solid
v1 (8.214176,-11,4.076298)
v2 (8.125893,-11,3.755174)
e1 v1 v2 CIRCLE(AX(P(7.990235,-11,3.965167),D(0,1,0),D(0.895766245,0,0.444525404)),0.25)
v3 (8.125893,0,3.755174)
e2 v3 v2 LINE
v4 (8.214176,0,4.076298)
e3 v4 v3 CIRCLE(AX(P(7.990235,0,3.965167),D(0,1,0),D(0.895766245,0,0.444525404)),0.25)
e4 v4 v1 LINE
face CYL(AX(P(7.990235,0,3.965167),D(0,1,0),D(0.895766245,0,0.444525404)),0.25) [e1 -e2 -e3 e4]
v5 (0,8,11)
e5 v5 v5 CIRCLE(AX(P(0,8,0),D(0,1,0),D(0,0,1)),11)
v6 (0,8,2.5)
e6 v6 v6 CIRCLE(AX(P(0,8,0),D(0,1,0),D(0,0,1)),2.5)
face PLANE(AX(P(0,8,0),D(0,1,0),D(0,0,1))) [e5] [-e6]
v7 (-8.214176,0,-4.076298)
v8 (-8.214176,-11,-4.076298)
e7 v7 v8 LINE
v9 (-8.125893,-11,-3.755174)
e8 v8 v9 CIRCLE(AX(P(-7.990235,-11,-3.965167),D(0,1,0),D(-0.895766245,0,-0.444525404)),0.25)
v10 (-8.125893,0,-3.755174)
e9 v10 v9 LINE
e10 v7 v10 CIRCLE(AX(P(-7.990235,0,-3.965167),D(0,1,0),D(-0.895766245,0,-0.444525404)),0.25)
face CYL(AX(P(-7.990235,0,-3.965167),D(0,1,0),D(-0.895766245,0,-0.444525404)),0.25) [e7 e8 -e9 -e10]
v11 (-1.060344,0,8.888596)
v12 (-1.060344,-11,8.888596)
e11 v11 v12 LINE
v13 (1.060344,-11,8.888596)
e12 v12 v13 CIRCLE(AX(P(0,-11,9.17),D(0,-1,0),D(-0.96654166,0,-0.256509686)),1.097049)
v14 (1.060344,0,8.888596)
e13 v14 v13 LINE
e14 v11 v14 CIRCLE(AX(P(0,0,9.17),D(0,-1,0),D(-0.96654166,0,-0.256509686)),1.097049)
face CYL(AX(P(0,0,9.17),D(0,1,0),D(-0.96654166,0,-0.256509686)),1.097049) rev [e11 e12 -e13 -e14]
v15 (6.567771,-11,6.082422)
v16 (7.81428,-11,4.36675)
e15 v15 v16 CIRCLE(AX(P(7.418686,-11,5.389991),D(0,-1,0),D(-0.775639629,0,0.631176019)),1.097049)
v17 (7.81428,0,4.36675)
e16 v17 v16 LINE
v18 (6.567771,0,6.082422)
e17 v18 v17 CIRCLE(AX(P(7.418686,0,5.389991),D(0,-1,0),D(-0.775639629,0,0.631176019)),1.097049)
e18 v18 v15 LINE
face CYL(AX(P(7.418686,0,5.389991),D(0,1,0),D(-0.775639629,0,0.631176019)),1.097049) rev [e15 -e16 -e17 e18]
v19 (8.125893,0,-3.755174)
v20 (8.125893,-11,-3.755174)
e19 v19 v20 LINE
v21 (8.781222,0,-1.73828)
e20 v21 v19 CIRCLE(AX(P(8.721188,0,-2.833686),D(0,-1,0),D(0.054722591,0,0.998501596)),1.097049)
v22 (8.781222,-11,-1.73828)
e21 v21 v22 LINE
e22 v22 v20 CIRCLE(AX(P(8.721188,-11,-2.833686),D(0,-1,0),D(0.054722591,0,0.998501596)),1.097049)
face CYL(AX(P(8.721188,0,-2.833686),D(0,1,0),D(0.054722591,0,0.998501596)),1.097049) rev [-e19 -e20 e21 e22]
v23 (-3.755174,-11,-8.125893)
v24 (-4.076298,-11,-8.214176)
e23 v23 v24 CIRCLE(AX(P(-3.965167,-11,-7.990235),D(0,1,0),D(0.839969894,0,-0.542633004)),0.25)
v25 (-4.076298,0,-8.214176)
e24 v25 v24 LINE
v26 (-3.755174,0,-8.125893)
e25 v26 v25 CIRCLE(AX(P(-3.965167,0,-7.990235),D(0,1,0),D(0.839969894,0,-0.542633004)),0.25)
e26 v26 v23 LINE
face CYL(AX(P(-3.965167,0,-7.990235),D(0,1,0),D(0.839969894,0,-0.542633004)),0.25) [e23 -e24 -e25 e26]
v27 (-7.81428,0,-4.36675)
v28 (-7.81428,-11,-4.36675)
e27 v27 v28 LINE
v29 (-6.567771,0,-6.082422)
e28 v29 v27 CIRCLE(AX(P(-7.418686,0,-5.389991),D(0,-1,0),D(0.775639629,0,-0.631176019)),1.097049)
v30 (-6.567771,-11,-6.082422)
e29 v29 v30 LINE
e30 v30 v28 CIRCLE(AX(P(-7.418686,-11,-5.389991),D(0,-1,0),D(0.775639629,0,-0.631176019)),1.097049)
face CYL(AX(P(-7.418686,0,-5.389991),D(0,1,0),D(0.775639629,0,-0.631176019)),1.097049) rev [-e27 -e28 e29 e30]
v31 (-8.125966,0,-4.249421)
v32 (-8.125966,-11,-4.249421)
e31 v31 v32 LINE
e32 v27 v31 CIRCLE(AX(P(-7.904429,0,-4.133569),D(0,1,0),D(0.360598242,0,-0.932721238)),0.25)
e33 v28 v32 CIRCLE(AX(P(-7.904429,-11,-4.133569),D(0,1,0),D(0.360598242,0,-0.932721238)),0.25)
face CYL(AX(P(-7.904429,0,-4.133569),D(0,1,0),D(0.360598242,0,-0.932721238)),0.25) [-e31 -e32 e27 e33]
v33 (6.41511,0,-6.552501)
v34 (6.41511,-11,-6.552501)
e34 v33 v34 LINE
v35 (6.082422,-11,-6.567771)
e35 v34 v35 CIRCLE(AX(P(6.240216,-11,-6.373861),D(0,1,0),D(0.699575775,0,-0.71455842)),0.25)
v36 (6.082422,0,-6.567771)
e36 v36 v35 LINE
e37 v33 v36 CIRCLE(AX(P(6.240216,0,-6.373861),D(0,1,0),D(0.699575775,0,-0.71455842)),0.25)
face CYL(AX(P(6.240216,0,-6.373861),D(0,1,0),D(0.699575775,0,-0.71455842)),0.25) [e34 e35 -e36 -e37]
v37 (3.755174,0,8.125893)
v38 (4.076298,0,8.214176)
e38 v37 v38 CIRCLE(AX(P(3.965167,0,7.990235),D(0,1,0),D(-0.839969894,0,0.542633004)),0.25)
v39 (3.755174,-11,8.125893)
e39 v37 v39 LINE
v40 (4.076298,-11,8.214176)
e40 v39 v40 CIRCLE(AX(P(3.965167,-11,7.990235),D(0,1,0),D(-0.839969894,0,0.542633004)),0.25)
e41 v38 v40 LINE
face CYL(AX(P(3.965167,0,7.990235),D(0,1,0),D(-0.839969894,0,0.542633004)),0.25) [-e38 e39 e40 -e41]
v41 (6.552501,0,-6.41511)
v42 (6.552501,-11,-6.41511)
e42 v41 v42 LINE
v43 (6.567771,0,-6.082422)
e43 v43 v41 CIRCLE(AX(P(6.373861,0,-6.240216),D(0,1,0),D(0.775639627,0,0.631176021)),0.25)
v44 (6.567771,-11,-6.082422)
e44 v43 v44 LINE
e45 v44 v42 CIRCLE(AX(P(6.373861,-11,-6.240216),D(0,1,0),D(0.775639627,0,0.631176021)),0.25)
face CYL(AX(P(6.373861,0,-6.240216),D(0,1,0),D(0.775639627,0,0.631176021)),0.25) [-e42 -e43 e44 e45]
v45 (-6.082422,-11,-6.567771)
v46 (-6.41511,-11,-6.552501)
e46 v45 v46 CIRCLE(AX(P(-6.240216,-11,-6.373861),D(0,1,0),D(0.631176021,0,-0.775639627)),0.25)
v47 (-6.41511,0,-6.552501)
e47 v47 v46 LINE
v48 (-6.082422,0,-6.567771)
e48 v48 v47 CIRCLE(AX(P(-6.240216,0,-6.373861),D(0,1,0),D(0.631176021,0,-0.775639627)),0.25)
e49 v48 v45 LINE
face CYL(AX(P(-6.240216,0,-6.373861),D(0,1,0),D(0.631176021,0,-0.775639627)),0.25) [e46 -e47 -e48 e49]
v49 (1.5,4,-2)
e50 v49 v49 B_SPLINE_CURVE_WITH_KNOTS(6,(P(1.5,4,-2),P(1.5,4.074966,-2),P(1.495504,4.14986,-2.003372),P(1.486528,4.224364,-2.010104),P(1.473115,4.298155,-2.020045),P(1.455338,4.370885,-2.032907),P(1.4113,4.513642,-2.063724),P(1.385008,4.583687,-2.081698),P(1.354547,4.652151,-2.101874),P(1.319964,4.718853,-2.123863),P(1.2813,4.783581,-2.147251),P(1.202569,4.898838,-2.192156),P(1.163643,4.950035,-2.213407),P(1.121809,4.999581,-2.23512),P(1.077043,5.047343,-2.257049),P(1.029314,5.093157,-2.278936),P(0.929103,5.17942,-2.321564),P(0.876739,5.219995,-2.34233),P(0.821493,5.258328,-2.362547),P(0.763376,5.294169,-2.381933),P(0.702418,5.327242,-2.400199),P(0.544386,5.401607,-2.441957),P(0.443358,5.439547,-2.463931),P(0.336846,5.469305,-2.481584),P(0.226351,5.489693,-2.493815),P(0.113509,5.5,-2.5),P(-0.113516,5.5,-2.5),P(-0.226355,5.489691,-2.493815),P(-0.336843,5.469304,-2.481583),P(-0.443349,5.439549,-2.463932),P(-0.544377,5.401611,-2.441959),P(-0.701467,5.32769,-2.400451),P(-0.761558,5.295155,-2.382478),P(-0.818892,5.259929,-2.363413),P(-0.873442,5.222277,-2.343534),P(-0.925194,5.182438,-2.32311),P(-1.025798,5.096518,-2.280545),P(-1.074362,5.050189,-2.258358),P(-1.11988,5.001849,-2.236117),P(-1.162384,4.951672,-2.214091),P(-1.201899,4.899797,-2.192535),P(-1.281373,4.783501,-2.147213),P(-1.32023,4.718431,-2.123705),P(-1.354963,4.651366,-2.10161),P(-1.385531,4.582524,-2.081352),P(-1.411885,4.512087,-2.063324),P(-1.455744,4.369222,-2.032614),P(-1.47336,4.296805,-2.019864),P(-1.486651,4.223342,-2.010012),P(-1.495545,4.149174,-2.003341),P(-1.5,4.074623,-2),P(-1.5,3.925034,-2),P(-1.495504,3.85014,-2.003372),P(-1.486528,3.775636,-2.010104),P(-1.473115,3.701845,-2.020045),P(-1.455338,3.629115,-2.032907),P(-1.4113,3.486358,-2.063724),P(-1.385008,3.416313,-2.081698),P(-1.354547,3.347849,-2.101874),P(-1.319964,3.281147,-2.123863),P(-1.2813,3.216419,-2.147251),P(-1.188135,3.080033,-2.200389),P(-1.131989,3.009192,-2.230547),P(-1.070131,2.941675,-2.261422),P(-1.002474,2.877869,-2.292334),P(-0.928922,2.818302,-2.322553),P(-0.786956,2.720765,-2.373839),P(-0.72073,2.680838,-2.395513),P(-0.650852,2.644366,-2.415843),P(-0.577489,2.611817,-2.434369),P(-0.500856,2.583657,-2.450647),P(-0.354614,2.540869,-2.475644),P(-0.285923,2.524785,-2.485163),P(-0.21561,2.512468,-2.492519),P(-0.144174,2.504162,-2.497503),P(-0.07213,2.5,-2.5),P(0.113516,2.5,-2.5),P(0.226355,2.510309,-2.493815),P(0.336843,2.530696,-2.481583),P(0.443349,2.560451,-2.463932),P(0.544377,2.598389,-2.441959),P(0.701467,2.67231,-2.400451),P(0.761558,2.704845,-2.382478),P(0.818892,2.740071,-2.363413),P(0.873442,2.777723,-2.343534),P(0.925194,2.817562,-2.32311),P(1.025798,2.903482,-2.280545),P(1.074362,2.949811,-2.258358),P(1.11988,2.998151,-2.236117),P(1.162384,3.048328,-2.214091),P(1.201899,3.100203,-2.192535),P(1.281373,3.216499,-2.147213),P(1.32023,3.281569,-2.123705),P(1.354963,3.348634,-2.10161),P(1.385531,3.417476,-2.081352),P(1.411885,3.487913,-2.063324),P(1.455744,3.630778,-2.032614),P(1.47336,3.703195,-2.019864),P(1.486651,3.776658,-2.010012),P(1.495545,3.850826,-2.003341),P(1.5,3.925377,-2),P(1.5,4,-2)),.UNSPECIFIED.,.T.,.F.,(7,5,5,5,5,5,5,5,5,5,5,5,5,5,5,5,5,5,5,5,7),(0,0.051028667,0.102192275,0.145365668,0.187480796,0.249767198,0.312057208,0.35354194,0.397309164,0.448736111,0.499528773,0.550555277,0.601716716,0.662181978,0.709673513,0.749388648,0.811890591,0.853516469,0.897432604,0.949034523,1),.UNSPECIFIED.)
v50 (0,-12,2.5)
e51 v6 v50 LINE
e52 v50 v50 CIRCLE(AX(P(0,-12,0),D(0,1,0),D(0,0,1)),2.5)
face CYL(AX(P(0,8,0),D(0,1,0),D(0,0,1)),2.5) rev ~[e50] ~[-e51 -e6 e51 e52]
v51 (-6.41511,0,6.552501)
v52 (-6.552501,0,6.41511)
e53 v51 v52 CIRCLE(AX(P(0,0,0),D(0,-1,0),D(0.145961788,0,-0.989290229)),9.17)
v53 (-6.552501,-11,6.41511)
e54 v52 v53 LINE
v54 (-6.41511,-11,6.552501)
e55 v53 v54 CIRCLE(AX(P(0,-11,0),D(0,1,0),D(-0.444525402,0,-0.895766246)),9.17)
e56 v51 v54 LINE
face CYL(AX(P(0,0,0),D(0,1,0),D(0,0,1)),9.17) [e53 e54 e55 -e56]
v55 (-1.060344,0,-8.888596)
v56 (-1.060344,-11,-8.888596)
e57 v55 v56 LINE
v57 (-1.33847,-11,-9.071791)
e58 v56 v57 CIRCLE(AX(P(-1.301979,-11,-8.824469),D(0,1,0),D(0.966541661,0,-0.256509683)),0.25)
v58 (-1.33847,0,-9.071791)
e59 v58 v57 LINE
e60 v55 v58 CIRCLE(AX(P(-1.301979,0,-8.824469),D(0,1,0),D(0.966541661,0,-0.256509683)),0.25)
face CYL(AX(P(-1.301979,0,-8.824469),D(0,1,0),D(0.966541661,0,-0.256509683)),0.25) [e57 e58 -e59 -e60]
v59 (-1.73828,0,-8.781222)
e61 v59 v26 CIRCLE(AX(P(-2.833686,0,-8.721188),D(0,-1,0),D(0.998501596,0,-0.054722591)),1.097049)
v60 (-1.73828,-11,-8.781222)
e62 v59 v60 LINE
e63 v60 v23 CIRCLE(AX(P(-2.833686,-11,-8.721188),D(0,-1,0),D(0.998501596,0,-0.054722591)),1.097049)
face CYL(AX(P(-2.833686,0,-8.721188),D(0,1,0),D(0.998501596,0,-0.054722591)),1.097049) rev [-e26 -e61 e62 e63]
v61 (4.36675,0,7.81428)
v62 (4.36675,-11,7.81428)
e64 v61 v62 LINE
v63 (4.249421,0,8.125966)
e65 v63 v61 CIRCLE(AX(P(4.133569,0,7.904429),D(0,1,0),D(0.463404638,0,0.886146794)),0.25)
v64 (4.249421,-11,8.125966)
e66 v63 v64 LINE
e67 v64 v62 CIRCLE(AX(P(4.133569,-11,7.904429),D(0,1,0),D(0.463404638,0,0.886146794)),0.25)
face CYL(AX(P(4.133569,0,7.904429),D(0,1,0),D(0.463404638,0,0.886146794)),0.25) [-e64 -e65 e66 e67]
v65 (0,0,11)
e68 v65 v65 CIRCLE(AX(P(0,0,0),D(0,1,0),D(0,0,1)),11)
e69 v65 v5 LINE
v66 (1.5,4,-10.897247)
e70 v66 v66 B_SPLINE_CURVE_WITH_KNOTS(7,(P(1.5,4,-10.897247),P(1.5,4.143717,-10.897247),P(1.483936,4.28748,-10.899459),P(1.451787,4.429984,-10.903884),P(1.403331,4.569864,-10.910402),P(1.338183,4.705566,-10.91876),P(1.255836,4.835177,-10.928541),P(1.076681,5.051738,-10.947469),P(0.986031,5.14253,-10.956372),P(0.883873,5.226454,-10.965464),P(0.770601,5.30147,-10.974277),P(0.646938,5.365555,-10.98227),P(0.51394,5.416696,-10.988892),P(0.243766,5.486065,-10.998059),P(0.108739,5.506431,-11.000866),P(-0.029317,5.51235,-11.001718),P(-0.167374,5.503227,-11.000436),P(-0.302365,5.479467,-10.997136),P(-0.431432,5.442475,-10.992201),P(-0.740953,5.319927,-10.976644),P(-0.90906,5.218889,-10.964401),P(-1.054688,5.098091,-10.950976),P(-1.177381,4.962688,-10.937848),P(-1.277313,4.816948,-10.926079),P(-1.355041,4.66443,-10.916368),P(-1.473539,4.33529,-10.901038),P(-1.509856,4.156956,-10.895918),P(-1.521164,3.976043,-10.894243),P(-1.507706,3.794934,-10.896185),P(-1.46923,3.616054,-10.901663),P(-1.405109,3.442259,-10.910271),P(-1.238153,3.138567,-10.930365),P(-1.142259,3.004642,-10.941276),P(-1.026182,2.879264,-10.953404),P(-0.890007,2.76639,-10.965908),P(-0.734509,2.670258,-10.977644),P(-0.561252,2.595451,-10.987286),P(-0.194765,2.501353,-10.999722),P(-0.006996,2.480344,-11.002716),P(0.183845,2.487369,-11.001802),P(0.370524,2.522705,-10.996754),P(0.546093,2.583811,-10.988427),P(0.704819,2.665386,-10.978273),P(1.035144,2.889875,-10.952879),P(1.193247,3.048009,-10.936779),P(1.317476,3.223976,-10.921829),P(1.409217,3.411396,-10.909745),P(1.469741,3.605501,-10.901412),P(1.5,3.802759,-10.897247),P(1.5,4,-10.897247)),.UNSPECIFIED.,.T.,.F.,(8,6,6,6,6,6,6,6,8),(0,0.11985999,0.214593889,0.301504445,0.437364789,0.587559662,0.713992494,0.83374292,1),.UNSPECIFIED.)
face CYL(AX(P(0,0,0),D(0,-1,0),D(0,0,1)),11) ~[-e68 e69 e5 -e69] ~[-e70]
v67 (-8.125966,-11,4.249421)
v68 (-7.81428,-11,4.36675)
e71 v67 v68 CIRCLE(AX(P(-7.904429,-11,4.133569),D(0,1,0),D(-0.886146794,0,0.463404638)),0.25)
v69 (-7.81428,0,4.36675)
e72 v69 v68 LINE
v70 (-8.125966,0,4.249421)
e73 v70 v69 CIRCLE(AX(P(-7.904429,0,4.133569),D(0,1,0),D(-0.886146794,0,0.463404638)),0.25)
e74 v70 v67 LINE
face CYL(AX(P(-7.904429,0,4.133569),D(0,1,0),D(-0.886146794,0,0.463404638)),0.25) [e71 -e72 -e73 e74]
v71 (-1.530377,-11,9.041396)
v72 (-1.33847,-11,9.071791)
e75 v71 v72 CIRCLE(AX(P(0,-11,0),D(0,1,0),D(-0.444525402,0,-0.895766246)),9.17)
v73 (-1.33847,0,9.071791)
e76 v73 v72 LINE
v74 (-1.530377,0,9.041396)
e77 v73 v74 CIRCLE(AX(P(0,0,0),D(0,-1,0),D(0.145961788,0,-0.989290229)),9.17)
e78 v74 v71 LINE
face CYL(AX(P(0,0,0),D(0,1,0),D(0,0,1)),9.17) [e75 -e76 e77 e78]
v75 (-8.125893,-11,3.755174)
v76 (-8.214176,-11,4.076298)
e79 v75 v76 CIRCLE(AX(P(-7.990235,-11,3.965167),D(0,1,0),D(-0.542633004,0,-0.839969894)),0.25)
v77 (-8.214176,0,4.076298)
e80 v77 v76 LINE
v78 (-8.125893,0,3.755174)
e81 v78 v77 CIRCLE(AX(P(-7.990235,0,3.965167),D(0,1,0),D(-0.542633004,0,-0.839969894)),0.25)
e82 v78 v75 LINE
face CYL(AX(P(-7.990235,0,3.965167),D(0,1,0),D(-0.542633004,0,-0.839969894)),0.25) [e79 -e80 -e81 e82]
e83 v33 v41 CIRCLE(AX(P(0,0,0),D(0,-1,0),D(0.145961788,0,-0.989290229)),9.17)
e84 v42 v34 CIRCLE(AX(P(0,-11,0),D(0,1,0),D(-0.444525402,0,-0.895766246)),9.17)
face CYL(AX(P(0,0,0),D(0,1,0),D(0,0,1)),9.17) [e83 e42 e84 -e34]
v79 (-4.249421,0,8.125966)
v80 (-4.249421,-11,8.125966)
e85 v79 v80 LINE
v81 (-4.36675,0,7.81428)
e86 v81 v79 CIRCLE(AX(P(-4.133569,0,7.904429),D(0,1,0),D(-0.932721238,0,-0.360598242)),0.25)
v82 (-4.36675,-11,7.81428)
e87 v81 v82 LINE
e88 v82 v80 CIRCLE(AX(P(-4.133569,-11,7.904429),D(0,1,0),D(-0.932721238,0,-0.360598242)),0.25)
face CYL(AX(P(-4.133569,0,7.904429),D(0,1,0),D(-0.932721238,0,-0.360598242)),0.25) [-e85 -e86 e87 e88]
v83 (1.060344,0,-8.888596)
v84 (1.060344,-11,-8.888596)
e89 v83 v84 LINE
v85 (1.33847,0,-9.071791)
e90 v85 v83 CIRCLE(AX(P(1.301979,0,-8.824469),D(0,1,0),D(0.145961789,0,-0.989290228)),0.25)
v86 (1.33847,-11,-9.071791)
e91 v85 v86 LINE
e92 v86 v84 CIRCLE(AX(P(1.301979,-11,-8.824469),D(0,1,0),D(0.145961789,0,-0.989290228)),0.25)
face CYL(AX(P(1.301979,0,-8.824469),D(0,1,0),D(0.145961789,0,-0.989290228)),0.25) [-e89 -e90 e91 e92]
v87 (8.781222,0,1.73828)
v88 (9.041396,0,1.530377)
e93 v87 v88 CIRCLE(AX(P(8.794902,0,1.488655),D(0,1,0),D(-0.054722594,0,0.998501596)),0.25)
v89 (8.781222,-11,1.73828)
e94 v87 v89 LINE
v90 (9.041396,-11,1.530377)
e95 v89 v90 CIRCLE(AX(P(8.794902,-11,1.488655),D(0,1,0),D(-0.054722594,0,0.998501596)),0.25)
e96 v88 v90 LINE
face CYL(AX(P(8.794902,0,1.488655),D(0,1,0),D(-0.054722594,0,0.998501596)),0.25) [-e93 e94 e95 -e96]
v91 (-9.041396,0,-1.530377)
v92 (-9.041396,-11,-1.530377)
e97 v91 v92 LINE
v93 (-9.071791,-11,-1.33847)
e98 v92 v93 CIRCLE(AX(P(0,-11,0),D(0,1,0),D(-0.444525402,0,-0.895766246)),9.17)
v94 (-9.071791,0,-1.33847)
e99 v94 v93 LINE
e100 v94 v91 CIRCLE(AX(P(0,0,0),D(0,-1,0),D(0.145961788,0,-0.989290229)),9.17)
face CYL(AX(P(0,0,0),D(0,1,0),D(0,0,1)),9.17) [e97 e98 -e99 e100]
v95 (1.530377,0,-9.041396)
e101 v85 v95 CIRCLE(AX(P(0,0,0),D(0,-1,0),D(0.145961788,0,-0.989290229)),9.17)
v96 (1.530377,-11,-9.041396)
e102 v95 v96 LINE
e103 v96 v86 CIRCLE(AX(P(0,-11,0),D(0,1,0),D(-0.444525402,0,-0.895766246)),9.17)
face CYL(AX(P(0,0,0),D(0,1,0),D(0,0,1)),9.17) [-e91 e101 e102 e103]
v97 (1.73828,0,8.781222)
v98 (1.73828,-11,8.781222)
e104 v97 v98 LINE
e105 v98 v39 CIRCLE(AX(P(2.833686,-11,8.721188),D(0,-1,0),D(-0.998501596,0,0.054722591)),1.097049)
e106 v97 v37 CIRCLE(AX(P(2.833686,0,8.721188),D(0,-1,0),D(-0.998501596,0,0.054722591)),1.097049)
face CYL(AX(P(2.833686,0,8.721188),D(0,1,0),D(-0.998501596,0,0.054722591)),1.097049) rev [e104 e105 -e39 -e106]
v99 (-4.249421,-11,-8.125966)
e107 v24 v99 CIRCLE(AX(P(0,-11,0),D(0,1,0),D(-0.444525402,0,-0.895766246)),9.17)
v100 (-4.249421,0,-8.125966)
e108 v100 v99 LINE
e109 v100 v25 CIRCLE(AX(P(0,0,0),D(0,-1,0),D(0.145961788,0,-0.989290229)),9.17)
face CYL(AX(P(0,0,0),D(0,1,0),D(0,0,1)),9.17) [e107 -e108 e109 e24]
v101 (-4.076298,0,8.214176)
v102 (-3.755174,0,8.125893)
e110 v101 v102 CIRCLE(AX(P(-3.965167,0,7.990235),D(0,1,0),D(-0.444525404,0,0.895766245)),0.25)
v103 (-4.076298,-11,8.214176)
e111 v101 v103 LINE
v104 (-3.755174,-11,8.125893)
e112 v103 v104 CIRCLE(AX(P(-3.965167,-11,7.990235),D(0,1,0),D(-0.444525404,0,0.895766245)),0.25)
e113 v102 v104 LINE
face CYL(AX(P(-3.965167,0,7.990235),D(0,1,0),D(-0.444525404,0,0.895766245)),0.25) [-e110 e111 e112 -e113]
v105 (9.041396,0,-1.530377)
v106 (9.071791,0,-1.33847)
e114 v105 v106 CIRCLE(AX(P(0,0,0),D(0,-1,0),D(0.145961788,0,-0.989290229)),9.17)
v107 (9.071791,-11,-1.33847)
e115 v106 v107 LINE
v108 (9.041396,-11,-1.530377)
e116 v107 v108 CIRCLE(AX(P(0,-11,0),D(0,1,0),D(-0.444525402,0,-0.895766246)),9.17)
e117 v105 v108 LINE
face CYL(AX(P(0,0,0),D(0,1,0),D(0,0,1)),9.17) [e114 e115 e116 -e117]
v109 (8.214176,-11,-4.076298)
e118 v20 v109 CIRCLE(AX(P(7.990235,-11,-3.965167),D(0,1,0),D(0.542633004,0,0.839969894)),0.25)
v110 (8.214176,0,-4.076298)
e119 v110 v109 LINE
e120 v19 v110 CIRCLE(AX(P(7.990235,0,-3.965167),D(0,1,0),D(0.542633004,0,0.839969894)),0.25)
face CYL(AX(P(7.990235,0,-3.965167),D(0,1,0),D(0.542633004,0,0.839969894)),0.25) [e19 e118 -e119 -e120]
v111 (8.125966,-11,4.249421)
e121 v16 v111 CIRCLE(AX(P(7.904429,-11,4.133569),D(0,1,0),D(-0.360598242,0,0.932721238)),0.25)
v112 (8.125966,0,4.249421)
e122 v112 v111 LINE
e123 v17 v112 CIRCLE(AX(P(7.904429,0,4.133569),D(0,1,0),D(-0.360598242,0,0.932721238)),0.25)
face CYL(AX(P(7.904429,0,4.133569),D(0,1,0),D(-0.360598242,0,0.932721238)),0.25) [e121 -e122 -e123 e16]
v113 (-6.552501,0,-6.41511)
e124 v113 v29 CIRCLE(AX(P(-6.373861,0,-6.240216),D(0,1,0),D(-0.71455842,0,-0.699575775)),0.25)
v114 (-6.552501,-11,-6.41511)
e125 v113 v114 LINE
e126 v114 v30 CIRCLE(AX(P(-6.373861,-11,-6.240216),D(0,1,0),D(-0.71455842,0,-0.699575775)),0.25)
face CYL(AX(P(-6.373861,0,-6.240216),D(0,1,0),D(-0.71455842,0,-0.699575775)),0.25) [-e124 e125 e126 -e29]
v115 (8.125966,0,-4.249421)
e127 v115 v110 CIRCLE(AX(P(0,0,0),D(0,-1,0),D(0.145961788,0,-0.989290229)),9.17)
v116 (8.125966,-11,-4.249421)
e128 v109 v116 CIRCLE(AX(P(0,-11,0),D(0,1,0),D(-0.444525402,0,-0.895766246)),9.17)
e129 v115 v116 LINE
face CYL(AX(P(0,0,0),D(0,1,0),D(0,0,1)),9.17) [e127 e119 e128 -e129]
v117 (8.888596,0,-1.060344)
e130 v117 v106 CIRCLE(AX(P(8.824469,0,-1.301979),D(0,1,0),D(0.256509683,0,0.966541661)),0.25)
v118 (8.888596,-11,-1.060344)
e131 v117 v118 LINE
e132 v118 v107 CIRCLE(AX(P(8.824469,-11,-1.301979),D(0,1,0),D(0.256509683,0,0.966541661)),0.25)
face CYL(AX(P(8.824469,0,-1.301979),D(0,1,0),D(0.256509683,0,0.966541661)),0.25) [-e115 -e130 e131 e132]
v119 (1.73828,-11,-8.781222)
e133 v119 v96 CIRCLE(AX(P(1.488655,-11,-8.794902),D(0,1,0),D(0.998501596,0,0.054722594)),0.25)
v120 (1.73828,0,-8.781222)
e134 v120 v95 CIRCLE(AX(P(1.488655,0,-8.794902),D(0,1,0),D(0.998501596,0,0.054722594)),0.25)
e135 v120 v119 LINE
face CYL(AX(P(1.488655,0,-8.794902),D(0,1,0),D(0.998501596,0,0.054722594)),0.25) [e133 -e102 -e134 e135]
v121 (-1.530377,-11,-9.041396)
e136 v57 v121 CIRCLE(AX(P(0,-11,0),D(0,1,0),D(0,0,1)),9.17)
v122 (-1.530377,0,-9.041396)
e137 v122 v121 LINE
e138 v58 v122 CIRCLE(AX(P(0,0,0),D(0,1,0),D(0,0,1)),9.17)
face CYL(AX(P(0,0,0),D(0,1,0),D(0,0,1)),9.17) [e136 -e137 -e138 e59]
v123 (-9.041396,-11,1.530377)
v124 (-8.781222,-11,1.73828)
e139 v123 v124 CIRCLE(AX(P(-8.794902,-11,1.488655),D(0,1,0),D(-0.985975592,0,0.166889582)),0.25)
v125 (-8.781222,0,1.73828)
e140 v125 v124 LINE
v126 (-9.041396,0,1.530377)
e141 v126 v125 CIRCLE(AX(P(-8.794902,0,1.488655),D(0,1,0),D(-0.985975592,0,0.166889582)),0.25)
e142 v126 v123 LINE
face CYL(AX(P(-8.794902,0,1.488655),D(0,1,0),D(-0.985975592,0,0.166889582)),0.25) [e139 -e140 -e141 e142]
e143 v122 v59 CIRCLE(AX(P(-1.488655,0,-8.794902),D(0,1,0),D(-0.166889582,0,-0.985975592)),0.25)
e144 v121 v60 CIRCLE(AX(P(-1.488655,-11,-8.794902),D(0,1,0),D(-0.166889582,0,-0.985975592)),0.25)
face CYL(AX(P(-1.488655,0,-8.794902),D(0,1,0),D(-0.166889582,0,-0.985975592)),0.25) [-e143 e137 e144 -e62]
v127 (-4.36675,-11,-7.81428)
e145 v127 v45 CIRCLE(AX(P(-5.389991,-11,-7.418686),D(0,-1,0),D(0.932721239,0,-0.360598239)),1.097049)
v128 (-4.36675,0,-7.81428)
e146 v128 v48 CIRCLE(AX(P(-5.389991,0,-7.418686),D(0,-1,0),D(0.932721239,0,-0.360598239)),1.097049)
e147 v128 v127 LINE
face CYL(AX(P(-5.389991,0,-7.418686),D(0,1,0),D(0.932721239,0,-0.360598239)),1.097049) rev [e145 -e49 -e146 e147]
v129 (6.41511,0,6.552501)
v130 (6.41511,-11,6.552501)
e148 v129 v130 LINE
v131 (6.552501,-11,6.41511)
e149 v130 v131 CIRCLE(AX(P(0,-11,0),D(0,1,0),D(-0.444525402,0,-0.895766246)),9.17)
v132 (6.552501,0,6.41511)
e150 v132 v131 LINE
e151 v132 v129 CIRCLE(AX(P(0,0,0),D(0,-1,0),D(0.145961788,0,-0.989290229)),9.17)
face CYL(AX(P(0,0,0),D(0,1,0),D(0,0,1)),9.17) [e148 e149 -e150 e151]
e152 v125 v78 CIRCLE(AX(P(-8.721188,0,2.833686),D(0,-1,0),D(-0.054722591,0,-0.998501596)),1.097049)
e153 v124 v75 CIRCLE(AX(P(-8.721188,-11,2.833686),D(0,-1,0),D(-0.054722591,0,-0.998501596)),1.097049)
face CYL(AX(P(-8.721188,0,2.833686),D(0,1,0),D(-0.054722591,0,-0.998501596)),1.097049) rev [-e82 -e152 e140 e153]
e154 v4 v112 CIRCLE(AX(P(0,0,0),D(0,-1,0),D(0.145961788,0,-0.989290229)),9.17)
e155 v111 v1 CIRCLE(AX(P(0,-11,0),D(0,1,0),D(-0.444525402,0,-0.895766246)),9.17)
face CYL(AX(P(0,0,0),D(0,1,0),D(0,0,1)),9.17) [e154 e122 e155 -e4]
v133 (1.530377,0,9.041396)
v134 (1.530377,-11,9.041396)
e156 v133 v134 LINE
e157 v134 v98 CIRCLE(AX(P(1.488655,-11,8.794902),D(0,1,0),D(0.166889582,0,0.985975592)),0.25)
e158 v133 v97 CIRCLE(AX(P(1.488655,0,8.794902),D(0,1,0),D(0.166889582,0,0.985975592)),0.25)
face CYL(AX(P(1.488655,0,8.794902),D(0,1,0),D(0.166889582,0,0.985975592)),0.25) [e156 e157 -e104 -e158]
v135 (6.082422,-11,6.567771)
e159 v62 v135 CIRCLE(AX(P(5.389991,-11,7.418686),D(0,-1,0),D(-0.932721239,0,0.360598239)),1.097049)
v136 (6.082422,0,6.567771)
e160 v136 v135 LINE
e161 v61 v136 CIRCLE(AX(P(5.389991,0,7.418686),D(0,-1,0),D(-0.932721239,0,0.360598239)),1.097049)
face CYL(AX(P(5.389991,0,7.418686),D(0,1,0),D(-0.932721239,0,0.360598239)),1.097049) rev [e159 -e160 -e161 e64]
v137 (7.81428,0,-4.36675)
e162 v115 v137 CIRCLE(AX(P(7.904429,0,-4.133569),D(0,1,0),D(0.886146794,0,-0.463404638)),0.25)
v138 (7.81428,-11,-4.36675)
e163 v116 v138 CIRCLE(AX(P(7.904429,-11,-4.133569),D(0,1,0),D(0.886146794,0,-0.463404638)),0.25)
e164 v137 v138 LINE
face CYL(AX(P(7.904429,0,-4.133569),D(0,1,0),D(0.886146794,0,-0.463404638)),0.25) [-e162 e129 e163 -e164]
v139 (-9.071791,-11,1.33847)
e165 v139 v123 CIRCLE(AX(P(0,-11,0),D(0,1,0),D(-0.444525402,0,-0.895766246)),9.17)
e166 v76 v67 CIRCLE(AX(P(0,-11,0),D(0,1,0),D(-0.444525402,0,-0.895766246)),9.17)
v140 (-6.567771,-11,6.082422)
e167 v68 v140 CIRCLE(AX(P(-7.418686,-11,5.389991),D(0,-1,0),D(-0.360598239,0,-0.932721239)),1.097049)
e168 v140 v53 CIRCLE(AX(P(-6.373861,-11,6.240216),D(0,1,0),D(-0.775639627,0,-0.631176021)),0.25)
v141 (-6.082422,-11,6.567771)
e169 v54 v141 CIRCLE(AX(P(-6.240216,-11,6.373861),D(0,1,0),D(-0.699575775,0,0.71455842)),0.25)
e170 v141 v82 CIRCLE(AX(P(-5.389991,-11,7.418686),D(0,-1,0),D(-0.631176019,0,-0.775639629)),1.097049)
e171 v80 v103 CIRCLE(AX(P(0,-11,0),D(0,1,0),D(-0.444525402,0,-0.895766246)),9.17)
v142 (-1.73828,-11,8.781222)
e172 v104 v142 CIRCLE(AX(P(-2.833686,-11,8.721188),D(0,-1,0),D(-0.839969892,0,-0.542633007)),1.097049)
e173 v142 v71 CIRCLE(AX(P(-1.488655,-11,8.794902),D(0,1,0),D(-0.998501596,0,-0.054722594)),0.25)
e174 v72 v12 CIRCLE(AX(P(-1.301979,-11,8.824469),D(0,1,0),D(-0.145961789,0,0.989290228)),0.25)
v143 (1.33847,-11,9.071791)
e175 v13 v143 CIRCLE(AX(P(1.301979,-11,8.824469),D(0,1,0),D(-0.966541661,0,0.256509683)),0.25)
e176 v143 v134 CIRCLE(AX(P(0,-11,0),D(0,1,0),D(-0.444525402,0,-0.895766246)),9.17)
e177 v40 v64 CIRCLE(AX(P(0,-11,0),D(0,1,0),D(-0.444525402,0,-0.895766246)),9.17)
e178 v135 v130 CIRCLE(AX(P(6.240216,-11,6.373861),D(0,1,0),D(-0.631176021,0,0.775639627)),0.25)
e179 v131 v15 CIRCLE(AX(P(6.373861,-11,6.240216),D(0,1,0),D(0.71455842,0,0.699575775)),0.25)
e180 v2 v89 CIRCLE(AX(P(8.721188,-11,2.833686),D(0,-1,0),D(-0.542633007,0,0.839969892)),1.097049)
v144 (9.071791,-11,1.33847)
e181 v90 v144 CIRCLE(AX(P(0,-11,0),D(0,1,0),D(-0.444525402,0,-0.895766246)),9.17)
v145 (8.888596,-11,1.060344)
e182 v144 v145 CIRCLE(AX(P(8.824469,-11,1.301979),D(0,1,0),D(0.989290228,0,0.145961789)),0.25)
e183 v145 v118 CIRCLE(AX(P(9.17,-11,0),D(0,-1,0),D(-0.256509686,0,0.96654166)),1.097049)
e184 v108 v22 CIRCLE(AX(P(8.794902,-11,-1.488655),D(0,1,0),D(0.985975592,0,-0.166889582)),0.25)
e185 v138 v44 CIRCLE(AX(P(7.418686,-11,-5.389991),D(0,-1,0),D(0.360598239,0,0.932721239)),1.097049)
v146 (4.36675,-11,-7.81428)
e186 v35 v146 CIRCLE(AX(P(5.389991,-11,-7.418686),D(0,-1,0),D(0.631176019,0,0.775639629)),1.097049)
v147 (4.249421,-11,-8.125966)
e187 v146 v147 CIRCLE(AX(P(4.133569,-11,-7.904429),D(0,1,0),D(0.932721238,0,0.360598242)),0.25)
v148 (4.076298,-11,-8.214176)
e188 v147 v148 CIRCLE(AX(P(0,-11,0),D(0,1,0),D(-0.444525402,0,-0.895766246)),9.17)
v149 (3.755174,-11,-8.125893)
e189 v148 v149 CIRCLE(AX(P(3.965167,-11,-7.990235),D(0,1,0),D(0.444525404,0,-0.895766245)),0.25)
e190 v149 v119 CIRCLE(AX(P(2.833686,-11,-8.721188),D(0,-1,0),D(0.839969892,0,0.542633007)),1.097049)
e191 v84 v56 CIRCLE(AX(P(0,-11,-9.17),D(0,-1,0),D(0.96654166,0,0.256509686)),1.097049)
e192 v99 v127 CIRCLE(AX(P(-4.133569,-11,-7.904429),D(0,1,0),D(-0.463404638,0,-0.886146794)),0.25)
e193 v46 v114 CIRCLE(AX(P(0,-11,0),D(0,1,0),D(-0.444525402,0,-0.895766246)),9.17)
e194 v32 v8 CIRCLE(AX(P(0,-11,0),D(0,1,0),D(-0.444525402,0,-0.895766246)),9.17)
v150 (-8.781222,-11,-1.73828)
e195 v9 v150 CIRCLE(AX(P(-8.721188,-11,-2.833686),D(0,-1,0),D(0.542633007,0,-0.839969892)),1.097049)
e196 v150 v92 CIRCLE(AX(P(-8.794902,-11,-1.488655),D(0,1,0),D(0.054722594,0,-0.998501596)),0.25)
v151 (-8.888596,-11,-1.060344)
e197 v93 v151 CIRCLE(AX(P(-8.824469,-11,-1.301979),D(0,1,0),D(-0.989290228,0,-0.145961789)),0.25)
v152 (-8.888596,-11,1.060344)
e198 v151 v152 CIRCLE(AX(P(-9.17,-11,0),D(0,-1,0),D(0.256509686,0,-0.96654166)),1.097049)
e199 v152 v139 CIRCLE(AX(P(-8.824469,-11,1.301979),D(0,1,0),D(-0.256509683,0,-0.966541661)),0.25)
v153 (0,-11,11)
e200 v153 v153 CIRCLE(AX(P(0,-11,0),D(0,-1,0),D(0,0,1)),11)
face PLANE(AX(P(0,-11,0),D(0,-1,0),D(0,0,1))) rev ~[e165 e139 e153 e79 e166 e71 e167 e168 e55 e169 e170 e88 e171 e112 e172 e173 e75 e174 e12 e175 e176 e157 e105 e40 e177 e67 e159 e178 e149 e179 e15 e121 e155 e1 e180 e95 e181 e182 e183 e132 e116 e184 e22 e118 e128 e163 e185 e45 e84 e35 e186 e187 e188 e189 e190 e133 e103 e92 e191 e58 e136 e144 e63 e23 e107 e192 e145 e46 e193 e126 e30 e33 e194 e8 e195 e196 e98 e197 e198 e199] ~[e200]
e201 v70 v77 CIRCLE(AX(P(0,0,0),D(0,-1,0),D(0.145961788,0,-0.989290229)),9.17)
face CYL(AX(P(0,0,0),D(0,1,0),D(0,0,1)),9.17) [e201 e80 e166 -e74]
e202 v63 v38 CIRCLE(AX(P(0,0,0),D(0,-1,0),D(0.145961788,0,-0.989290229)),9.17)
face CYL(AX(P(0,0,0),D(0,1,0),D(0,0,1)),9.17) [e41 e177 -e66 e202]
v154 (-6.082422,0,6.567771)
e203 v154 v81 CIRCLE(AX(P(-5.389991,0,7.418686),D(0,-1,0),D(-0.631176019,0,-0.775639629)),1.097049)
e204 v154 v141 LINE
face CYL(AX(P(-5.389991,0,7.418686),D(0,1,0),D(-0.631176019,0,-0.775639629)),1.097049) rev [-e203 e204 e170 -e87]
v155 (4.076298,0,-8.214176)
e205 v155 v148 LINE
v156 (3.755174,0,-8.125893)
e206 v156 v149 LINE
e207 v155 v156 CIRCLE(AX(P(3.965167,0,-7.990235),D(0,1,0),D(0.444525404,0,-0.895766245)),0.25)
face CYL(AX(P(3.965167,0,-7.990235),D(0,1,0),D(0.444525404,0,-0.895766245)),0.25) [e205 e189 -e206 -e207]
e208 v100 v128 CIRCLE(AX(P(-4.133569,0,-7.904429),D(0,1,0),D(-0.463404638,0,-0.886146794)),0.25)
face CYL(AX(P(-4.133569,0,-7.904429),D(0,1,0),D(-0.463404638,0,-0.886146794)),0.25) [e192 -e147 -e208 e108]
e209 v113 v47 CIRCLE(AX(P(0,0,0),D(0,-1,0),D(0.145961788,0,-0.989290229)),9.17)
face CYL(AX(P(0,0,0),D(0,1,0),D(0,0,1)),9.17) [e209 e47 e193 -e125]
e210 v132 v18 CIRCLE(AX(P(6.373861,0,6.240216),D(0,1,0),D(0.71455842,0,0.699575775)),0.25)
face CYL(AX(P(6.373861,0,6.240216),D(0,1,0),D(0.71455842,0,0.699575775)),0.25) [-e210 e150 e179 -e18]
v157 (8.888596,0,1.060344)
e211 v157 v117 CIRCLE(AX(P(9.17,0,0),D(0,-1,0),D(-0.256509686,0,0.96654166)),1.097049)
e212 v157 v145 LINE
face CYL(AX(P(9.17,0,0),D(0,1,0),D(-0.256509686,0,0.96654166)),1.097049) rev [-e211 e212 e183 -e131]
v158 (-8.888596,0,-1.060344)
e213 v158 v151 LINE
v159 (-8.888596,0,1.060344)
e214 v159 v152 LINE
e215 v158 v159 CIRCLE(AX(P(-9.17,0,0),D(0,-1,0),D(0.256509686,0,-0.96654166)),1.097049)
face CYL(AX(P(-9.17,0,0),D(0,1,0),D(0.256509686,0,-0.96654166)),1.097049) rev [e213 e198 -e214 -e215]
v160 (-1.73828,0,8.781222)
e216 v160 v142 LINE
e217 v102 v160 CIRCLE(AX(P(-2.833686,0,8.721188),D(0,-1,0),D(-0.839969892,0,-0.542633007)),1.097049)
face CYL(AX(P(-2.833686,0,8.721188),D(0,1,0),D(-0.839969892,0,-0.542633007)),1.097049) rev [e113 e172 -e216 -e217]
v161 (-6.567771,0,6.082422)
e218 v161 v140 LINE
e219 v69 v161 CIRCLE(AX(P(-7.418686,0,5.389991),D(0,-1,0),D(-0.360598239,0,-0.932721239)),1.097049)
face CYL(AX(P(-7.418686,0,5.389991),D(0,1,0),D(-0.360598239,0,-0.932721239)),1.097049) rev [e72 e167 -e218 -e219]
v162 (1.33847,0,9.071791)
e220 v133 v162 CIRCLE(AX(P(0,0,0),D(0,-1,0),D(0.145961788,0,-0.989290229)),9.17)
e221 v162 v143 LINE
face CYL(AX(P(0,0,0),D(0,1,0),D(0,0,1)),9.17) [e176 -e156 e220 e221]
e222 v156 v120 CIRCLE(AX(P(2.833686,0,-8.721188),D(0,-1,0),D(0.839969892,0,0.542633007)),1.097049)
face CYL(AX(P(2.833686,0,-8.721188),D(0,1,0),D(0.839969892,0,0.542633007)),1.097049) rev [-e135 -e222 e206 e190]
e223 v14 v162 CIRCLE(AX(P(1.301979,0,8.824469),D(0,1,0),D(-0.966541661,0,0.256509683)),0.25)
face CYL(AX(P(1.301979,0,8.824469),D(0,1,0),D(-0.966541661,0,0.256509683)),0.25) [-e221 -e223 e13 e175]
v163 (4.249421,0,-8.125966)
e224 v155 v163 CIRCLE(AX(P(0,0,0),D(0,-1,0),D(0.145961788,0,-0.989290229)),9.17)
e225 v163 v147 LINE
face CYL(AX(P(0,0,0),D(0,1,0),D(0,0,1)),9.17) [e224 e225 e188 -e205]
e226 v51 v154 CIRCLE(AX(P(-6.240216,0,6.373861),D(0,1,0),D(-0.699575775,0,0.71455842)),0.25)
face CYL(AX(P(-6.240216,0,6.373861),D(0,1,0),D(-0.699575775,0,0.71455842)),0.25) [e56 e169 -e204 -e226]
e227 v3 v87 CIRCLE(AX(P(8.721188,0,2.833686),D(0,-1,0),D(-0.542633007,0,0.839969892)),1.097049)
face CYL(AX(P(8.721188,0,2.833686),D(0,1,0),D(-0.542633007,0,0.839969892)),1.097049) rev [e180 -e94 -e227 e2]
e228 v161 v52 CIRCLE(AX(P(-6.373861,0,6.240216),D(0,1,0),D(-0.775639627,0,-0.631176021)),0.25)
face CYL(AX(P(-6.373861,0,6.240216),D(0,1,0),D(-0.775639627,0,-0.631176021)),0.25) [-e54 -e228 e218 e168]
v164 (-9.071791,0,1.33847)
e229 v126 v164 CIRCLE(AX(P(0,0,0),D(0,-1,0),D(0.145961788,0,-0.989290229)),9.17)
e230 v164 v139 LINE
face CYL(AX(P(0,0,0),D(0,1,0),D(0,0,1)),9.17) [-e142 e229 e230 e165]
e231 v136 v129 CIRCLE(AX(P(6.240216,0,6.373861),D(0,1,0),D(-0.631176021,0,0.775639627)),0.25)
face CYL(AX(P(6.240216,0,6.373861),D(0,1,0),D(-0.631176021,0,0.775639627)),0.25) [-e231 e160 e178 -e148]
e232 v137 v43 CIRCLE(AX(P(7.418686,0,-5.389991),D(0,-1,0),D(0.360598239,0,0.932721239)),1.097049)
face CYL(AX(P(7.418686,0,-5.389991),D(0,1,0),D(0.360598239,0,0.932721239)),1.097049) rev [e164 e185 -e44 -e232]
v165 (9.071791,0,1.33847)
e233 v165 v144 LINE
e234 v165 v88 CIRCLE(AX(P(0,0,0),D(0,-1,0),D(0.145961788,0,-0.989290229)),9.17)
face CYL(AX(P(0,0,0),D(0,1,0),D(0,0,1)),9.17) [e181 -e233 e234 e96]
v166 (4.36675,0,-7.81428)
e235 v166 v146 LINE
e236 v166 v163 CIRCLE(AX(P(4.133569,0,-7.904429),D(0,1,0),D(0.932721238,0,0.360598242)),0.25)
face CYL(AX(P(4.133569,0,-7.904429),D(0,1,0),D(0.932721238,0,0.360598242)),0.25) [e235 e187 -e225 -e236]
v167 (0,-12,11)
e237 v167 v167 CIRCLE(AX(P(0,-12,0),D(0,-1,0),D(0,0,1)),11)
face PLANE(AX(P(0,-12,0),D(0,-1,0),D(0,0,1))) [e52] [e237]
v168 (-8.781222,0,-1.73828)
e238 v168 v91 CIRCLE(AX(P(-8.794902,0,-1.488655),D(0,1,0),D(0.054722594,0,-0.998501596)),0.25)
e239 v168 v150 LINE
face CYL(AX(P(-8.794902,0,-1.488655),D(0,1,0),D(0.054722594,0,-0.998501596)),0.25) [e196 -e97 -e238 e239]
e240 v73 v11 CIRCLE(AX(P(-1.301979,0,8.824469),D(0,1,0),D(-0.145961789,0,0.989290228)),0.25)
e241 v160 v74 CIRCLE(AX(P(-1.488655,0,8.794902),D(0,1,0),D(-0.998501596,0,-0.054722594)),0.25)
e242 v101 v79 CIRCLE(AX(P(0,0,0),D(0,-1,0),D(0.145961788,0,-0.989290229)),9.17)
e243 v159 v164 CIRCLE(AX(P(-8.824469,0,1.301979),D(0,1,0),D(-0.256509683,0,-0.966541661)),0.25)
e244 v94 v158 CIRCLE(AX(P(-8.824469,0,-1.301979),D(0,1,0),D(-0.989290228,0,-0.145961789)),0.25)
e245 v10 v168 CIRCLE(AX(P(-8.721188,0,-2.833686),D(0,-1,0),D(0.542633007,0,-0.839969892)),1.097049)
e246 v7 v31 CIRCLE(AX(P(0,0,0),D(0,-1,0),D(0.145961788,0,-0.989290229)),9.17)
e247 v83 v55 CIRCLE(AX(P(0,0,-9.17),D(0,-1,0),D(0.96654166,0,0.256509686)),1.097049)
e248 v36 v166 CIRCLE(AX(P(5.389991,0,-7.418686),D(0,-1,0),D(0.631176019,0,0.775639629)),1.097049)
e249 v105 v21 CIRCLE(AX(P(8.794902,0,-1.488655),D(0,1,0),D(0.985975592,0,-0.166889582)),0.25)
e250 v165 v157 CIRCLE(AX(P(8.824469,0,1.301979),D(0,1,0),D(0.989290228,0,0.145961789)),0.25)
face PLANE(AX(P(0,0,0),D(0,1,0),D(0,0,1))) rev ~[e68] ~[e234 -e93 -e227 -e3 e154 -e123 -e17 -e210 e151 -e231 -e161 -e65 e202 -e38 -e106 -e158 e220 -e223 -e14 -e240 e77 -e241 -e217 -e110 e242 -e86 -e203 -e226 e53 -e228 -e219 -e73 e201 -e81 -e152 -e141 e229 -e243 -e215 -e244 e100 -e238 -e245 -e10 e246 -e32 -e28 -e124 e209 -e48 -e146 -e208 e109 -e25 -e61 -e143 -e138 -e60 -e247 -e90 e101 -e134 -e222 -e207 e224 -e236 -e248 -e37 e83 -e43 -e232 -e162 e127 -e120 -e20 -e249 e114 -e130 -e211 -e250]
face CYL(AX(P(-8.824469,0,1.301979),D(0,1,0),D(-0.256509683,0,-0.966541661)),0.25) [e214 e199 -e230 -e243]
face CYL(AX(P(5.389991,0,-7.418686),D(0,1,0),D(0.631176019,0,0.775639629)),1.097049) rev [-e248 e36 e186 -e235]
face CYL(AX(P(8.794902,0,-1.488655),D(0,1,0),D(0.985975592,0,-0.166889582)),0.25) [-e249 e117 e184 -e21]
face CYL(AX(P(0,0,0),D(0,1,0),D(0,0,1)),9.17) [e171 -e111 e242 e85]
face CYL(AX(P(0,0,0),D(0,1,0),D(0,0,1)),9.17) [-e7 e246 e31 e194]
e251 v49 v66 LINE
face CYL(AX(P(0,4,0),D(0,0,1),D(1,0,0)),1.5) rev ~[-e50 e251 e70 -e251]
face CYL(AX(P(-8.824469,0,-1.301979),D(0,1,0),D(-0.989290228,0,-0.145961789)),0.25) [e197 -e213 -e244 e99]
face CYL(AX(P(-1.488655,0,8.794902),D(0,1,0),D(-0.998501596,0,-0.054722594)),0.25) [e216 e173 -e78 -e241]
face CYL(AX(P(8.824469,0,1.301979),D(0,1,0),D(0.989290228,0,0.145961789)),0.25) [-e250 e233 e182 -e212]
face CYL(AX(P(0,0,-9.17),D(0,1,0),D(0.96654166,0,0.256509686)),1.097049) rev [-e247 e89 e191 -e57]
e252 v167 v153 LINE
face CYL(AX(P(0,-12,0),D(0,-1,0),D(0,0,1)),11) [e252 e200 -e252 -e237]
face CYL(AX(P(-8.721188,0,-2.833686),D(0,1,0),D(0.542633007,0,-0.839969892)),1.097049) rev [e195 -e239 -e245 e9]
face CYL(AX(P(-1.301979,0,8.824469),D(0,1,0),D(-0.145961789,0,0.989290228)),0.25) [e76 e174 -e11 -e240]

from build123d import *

# Parameters (mm, degrees)
SKETCH_1_R               = 9.17
EXTRUDE_1_DEPTH          = 11
CUT_EXTRUDE_1_DEPTH      = 11
PATTERN_CIRCULAR_1_COUNT = 20
SKETCH_4_R               = 11
EXTRUDE_3_DEPTH          = 8
EXTRUDE_START            = 1
SKETCH_3_R               = 11
EXTRUDE_4_DEPTH          = 1
SKETCH_5_R               = 2.5
CUT_EXTRUDE_2_DEPTH      = 22
SKETCH_6_R               = 1.5
CUT_EXTRUDE_3_DEPTH      = 30


with BuildPart() as part:
    # 草图1 → 凸台-拉伸1 (new body)
    with BuildSketch(Plane(origin=(0, 0, 0), x_dir=(1, 0, 0), z_dir=(0, 1, 0))):
        with Locations(Location((0, 0, 0), (0, 0, 270))):
            Circle(SKETCH_1_R)
    extrude(amount=-EXTRUDE_1_DEPTH)

    # 草图2 → 切除-拉伸1 (cut)
    with BuildSketch(Plane(origin=(0, 0, 0), x_dir=(1, 0, 0), z_dir=(0, 1, 0))):
        with BuildLine():
            Line((-1.338469592, 9.071791397), (-1.301979145, 9.548134799))
            Line((-1.301979145, 9.548134799), (1.164461041, 9.508969944))
            Line((1.164461041, 9.508969944), (1.338469592, 9.071791397))
            ThreePointArc((1.338469592, 9.071791397), (1.164461041, 9.03324808), (1.06034373, 8.888596261))
            ThreePointArc((1.06034373, 8.888596261), (0, 8.072950826), (-1.06034373, 8.888596261))
            ThreePointArc((-1.06034373, 8.888596261), (-1.164461041, 9.03324808), (-1.338469592, 9.071791397))
        make_face()
    cut_extrude_1 = extrude(amount=-CUT_EXTRUDE_1_DEPTH, mode=Mode.SUBTRACT)

    # 阵列(圆周)1: 切除-拉伸1 ×20 about axis
    pattern_circular_1_axis = Axis((0, 0, 0), (0, 1, 0))
    for i in range(1, PATTERN_CIRCULAR_1_COUNT):
        add(cut_extrude_1.rotate(pattern_circular_1_axis, i * 360 / PATTERN_CIRCULAR_1_COUNT), mode=Mode.SUBTRACT)

    # 草图4 → 凸台-拉伸3 (add)
    with BuildSketch(Plane(origin=(0, 0, 0), x_dir=(1, 0, 0), z_dir=(0, 1, 0))):
        with Locations(Location((0, 0, 0), (0, 0, 270))):
            Circle(SKETCH_4_R)
    extrude(amount=EXTRUDE_3_DEPTH)

    # 草图3 → 凸台-拉伸4 (add)
    with BuildSketch(Plane.XZ.offset(11).offset(EXTRUDE_START)):
        with Locations(Location((0, 0, 0), (0, 0, 90))):
            Circle(SKETCH_3_R)
    extrude(amount=-EXTRUDE_4_DEPTH)

    # 草图5 → 切除-拉伸2 (cut)
    with BuildSketch(Plane(origin=(0, 8, 0), x_dir=(1, 0, 0), z_dir=(0, 1, 0))):
        with Locations(Location((0, 0, 0), (0, 0, 270))):
            Circle(SKETCH_5_R)
    extrude(amount=-CUT_EXTRUDE_2_DEPTH, mode=Mode.SUBTRACT)

    # 草图6 → 切除-拉伸3 (cut)
    with BuildSketch(Plane.XY):
        with Locations((0, 4)):
            Circle(SKETCH_6_R)
    extrude(amount=-CUT_EXTRUDE_3_DEPTH, mode=Mode.SUBTRACT)


solid = part.part
